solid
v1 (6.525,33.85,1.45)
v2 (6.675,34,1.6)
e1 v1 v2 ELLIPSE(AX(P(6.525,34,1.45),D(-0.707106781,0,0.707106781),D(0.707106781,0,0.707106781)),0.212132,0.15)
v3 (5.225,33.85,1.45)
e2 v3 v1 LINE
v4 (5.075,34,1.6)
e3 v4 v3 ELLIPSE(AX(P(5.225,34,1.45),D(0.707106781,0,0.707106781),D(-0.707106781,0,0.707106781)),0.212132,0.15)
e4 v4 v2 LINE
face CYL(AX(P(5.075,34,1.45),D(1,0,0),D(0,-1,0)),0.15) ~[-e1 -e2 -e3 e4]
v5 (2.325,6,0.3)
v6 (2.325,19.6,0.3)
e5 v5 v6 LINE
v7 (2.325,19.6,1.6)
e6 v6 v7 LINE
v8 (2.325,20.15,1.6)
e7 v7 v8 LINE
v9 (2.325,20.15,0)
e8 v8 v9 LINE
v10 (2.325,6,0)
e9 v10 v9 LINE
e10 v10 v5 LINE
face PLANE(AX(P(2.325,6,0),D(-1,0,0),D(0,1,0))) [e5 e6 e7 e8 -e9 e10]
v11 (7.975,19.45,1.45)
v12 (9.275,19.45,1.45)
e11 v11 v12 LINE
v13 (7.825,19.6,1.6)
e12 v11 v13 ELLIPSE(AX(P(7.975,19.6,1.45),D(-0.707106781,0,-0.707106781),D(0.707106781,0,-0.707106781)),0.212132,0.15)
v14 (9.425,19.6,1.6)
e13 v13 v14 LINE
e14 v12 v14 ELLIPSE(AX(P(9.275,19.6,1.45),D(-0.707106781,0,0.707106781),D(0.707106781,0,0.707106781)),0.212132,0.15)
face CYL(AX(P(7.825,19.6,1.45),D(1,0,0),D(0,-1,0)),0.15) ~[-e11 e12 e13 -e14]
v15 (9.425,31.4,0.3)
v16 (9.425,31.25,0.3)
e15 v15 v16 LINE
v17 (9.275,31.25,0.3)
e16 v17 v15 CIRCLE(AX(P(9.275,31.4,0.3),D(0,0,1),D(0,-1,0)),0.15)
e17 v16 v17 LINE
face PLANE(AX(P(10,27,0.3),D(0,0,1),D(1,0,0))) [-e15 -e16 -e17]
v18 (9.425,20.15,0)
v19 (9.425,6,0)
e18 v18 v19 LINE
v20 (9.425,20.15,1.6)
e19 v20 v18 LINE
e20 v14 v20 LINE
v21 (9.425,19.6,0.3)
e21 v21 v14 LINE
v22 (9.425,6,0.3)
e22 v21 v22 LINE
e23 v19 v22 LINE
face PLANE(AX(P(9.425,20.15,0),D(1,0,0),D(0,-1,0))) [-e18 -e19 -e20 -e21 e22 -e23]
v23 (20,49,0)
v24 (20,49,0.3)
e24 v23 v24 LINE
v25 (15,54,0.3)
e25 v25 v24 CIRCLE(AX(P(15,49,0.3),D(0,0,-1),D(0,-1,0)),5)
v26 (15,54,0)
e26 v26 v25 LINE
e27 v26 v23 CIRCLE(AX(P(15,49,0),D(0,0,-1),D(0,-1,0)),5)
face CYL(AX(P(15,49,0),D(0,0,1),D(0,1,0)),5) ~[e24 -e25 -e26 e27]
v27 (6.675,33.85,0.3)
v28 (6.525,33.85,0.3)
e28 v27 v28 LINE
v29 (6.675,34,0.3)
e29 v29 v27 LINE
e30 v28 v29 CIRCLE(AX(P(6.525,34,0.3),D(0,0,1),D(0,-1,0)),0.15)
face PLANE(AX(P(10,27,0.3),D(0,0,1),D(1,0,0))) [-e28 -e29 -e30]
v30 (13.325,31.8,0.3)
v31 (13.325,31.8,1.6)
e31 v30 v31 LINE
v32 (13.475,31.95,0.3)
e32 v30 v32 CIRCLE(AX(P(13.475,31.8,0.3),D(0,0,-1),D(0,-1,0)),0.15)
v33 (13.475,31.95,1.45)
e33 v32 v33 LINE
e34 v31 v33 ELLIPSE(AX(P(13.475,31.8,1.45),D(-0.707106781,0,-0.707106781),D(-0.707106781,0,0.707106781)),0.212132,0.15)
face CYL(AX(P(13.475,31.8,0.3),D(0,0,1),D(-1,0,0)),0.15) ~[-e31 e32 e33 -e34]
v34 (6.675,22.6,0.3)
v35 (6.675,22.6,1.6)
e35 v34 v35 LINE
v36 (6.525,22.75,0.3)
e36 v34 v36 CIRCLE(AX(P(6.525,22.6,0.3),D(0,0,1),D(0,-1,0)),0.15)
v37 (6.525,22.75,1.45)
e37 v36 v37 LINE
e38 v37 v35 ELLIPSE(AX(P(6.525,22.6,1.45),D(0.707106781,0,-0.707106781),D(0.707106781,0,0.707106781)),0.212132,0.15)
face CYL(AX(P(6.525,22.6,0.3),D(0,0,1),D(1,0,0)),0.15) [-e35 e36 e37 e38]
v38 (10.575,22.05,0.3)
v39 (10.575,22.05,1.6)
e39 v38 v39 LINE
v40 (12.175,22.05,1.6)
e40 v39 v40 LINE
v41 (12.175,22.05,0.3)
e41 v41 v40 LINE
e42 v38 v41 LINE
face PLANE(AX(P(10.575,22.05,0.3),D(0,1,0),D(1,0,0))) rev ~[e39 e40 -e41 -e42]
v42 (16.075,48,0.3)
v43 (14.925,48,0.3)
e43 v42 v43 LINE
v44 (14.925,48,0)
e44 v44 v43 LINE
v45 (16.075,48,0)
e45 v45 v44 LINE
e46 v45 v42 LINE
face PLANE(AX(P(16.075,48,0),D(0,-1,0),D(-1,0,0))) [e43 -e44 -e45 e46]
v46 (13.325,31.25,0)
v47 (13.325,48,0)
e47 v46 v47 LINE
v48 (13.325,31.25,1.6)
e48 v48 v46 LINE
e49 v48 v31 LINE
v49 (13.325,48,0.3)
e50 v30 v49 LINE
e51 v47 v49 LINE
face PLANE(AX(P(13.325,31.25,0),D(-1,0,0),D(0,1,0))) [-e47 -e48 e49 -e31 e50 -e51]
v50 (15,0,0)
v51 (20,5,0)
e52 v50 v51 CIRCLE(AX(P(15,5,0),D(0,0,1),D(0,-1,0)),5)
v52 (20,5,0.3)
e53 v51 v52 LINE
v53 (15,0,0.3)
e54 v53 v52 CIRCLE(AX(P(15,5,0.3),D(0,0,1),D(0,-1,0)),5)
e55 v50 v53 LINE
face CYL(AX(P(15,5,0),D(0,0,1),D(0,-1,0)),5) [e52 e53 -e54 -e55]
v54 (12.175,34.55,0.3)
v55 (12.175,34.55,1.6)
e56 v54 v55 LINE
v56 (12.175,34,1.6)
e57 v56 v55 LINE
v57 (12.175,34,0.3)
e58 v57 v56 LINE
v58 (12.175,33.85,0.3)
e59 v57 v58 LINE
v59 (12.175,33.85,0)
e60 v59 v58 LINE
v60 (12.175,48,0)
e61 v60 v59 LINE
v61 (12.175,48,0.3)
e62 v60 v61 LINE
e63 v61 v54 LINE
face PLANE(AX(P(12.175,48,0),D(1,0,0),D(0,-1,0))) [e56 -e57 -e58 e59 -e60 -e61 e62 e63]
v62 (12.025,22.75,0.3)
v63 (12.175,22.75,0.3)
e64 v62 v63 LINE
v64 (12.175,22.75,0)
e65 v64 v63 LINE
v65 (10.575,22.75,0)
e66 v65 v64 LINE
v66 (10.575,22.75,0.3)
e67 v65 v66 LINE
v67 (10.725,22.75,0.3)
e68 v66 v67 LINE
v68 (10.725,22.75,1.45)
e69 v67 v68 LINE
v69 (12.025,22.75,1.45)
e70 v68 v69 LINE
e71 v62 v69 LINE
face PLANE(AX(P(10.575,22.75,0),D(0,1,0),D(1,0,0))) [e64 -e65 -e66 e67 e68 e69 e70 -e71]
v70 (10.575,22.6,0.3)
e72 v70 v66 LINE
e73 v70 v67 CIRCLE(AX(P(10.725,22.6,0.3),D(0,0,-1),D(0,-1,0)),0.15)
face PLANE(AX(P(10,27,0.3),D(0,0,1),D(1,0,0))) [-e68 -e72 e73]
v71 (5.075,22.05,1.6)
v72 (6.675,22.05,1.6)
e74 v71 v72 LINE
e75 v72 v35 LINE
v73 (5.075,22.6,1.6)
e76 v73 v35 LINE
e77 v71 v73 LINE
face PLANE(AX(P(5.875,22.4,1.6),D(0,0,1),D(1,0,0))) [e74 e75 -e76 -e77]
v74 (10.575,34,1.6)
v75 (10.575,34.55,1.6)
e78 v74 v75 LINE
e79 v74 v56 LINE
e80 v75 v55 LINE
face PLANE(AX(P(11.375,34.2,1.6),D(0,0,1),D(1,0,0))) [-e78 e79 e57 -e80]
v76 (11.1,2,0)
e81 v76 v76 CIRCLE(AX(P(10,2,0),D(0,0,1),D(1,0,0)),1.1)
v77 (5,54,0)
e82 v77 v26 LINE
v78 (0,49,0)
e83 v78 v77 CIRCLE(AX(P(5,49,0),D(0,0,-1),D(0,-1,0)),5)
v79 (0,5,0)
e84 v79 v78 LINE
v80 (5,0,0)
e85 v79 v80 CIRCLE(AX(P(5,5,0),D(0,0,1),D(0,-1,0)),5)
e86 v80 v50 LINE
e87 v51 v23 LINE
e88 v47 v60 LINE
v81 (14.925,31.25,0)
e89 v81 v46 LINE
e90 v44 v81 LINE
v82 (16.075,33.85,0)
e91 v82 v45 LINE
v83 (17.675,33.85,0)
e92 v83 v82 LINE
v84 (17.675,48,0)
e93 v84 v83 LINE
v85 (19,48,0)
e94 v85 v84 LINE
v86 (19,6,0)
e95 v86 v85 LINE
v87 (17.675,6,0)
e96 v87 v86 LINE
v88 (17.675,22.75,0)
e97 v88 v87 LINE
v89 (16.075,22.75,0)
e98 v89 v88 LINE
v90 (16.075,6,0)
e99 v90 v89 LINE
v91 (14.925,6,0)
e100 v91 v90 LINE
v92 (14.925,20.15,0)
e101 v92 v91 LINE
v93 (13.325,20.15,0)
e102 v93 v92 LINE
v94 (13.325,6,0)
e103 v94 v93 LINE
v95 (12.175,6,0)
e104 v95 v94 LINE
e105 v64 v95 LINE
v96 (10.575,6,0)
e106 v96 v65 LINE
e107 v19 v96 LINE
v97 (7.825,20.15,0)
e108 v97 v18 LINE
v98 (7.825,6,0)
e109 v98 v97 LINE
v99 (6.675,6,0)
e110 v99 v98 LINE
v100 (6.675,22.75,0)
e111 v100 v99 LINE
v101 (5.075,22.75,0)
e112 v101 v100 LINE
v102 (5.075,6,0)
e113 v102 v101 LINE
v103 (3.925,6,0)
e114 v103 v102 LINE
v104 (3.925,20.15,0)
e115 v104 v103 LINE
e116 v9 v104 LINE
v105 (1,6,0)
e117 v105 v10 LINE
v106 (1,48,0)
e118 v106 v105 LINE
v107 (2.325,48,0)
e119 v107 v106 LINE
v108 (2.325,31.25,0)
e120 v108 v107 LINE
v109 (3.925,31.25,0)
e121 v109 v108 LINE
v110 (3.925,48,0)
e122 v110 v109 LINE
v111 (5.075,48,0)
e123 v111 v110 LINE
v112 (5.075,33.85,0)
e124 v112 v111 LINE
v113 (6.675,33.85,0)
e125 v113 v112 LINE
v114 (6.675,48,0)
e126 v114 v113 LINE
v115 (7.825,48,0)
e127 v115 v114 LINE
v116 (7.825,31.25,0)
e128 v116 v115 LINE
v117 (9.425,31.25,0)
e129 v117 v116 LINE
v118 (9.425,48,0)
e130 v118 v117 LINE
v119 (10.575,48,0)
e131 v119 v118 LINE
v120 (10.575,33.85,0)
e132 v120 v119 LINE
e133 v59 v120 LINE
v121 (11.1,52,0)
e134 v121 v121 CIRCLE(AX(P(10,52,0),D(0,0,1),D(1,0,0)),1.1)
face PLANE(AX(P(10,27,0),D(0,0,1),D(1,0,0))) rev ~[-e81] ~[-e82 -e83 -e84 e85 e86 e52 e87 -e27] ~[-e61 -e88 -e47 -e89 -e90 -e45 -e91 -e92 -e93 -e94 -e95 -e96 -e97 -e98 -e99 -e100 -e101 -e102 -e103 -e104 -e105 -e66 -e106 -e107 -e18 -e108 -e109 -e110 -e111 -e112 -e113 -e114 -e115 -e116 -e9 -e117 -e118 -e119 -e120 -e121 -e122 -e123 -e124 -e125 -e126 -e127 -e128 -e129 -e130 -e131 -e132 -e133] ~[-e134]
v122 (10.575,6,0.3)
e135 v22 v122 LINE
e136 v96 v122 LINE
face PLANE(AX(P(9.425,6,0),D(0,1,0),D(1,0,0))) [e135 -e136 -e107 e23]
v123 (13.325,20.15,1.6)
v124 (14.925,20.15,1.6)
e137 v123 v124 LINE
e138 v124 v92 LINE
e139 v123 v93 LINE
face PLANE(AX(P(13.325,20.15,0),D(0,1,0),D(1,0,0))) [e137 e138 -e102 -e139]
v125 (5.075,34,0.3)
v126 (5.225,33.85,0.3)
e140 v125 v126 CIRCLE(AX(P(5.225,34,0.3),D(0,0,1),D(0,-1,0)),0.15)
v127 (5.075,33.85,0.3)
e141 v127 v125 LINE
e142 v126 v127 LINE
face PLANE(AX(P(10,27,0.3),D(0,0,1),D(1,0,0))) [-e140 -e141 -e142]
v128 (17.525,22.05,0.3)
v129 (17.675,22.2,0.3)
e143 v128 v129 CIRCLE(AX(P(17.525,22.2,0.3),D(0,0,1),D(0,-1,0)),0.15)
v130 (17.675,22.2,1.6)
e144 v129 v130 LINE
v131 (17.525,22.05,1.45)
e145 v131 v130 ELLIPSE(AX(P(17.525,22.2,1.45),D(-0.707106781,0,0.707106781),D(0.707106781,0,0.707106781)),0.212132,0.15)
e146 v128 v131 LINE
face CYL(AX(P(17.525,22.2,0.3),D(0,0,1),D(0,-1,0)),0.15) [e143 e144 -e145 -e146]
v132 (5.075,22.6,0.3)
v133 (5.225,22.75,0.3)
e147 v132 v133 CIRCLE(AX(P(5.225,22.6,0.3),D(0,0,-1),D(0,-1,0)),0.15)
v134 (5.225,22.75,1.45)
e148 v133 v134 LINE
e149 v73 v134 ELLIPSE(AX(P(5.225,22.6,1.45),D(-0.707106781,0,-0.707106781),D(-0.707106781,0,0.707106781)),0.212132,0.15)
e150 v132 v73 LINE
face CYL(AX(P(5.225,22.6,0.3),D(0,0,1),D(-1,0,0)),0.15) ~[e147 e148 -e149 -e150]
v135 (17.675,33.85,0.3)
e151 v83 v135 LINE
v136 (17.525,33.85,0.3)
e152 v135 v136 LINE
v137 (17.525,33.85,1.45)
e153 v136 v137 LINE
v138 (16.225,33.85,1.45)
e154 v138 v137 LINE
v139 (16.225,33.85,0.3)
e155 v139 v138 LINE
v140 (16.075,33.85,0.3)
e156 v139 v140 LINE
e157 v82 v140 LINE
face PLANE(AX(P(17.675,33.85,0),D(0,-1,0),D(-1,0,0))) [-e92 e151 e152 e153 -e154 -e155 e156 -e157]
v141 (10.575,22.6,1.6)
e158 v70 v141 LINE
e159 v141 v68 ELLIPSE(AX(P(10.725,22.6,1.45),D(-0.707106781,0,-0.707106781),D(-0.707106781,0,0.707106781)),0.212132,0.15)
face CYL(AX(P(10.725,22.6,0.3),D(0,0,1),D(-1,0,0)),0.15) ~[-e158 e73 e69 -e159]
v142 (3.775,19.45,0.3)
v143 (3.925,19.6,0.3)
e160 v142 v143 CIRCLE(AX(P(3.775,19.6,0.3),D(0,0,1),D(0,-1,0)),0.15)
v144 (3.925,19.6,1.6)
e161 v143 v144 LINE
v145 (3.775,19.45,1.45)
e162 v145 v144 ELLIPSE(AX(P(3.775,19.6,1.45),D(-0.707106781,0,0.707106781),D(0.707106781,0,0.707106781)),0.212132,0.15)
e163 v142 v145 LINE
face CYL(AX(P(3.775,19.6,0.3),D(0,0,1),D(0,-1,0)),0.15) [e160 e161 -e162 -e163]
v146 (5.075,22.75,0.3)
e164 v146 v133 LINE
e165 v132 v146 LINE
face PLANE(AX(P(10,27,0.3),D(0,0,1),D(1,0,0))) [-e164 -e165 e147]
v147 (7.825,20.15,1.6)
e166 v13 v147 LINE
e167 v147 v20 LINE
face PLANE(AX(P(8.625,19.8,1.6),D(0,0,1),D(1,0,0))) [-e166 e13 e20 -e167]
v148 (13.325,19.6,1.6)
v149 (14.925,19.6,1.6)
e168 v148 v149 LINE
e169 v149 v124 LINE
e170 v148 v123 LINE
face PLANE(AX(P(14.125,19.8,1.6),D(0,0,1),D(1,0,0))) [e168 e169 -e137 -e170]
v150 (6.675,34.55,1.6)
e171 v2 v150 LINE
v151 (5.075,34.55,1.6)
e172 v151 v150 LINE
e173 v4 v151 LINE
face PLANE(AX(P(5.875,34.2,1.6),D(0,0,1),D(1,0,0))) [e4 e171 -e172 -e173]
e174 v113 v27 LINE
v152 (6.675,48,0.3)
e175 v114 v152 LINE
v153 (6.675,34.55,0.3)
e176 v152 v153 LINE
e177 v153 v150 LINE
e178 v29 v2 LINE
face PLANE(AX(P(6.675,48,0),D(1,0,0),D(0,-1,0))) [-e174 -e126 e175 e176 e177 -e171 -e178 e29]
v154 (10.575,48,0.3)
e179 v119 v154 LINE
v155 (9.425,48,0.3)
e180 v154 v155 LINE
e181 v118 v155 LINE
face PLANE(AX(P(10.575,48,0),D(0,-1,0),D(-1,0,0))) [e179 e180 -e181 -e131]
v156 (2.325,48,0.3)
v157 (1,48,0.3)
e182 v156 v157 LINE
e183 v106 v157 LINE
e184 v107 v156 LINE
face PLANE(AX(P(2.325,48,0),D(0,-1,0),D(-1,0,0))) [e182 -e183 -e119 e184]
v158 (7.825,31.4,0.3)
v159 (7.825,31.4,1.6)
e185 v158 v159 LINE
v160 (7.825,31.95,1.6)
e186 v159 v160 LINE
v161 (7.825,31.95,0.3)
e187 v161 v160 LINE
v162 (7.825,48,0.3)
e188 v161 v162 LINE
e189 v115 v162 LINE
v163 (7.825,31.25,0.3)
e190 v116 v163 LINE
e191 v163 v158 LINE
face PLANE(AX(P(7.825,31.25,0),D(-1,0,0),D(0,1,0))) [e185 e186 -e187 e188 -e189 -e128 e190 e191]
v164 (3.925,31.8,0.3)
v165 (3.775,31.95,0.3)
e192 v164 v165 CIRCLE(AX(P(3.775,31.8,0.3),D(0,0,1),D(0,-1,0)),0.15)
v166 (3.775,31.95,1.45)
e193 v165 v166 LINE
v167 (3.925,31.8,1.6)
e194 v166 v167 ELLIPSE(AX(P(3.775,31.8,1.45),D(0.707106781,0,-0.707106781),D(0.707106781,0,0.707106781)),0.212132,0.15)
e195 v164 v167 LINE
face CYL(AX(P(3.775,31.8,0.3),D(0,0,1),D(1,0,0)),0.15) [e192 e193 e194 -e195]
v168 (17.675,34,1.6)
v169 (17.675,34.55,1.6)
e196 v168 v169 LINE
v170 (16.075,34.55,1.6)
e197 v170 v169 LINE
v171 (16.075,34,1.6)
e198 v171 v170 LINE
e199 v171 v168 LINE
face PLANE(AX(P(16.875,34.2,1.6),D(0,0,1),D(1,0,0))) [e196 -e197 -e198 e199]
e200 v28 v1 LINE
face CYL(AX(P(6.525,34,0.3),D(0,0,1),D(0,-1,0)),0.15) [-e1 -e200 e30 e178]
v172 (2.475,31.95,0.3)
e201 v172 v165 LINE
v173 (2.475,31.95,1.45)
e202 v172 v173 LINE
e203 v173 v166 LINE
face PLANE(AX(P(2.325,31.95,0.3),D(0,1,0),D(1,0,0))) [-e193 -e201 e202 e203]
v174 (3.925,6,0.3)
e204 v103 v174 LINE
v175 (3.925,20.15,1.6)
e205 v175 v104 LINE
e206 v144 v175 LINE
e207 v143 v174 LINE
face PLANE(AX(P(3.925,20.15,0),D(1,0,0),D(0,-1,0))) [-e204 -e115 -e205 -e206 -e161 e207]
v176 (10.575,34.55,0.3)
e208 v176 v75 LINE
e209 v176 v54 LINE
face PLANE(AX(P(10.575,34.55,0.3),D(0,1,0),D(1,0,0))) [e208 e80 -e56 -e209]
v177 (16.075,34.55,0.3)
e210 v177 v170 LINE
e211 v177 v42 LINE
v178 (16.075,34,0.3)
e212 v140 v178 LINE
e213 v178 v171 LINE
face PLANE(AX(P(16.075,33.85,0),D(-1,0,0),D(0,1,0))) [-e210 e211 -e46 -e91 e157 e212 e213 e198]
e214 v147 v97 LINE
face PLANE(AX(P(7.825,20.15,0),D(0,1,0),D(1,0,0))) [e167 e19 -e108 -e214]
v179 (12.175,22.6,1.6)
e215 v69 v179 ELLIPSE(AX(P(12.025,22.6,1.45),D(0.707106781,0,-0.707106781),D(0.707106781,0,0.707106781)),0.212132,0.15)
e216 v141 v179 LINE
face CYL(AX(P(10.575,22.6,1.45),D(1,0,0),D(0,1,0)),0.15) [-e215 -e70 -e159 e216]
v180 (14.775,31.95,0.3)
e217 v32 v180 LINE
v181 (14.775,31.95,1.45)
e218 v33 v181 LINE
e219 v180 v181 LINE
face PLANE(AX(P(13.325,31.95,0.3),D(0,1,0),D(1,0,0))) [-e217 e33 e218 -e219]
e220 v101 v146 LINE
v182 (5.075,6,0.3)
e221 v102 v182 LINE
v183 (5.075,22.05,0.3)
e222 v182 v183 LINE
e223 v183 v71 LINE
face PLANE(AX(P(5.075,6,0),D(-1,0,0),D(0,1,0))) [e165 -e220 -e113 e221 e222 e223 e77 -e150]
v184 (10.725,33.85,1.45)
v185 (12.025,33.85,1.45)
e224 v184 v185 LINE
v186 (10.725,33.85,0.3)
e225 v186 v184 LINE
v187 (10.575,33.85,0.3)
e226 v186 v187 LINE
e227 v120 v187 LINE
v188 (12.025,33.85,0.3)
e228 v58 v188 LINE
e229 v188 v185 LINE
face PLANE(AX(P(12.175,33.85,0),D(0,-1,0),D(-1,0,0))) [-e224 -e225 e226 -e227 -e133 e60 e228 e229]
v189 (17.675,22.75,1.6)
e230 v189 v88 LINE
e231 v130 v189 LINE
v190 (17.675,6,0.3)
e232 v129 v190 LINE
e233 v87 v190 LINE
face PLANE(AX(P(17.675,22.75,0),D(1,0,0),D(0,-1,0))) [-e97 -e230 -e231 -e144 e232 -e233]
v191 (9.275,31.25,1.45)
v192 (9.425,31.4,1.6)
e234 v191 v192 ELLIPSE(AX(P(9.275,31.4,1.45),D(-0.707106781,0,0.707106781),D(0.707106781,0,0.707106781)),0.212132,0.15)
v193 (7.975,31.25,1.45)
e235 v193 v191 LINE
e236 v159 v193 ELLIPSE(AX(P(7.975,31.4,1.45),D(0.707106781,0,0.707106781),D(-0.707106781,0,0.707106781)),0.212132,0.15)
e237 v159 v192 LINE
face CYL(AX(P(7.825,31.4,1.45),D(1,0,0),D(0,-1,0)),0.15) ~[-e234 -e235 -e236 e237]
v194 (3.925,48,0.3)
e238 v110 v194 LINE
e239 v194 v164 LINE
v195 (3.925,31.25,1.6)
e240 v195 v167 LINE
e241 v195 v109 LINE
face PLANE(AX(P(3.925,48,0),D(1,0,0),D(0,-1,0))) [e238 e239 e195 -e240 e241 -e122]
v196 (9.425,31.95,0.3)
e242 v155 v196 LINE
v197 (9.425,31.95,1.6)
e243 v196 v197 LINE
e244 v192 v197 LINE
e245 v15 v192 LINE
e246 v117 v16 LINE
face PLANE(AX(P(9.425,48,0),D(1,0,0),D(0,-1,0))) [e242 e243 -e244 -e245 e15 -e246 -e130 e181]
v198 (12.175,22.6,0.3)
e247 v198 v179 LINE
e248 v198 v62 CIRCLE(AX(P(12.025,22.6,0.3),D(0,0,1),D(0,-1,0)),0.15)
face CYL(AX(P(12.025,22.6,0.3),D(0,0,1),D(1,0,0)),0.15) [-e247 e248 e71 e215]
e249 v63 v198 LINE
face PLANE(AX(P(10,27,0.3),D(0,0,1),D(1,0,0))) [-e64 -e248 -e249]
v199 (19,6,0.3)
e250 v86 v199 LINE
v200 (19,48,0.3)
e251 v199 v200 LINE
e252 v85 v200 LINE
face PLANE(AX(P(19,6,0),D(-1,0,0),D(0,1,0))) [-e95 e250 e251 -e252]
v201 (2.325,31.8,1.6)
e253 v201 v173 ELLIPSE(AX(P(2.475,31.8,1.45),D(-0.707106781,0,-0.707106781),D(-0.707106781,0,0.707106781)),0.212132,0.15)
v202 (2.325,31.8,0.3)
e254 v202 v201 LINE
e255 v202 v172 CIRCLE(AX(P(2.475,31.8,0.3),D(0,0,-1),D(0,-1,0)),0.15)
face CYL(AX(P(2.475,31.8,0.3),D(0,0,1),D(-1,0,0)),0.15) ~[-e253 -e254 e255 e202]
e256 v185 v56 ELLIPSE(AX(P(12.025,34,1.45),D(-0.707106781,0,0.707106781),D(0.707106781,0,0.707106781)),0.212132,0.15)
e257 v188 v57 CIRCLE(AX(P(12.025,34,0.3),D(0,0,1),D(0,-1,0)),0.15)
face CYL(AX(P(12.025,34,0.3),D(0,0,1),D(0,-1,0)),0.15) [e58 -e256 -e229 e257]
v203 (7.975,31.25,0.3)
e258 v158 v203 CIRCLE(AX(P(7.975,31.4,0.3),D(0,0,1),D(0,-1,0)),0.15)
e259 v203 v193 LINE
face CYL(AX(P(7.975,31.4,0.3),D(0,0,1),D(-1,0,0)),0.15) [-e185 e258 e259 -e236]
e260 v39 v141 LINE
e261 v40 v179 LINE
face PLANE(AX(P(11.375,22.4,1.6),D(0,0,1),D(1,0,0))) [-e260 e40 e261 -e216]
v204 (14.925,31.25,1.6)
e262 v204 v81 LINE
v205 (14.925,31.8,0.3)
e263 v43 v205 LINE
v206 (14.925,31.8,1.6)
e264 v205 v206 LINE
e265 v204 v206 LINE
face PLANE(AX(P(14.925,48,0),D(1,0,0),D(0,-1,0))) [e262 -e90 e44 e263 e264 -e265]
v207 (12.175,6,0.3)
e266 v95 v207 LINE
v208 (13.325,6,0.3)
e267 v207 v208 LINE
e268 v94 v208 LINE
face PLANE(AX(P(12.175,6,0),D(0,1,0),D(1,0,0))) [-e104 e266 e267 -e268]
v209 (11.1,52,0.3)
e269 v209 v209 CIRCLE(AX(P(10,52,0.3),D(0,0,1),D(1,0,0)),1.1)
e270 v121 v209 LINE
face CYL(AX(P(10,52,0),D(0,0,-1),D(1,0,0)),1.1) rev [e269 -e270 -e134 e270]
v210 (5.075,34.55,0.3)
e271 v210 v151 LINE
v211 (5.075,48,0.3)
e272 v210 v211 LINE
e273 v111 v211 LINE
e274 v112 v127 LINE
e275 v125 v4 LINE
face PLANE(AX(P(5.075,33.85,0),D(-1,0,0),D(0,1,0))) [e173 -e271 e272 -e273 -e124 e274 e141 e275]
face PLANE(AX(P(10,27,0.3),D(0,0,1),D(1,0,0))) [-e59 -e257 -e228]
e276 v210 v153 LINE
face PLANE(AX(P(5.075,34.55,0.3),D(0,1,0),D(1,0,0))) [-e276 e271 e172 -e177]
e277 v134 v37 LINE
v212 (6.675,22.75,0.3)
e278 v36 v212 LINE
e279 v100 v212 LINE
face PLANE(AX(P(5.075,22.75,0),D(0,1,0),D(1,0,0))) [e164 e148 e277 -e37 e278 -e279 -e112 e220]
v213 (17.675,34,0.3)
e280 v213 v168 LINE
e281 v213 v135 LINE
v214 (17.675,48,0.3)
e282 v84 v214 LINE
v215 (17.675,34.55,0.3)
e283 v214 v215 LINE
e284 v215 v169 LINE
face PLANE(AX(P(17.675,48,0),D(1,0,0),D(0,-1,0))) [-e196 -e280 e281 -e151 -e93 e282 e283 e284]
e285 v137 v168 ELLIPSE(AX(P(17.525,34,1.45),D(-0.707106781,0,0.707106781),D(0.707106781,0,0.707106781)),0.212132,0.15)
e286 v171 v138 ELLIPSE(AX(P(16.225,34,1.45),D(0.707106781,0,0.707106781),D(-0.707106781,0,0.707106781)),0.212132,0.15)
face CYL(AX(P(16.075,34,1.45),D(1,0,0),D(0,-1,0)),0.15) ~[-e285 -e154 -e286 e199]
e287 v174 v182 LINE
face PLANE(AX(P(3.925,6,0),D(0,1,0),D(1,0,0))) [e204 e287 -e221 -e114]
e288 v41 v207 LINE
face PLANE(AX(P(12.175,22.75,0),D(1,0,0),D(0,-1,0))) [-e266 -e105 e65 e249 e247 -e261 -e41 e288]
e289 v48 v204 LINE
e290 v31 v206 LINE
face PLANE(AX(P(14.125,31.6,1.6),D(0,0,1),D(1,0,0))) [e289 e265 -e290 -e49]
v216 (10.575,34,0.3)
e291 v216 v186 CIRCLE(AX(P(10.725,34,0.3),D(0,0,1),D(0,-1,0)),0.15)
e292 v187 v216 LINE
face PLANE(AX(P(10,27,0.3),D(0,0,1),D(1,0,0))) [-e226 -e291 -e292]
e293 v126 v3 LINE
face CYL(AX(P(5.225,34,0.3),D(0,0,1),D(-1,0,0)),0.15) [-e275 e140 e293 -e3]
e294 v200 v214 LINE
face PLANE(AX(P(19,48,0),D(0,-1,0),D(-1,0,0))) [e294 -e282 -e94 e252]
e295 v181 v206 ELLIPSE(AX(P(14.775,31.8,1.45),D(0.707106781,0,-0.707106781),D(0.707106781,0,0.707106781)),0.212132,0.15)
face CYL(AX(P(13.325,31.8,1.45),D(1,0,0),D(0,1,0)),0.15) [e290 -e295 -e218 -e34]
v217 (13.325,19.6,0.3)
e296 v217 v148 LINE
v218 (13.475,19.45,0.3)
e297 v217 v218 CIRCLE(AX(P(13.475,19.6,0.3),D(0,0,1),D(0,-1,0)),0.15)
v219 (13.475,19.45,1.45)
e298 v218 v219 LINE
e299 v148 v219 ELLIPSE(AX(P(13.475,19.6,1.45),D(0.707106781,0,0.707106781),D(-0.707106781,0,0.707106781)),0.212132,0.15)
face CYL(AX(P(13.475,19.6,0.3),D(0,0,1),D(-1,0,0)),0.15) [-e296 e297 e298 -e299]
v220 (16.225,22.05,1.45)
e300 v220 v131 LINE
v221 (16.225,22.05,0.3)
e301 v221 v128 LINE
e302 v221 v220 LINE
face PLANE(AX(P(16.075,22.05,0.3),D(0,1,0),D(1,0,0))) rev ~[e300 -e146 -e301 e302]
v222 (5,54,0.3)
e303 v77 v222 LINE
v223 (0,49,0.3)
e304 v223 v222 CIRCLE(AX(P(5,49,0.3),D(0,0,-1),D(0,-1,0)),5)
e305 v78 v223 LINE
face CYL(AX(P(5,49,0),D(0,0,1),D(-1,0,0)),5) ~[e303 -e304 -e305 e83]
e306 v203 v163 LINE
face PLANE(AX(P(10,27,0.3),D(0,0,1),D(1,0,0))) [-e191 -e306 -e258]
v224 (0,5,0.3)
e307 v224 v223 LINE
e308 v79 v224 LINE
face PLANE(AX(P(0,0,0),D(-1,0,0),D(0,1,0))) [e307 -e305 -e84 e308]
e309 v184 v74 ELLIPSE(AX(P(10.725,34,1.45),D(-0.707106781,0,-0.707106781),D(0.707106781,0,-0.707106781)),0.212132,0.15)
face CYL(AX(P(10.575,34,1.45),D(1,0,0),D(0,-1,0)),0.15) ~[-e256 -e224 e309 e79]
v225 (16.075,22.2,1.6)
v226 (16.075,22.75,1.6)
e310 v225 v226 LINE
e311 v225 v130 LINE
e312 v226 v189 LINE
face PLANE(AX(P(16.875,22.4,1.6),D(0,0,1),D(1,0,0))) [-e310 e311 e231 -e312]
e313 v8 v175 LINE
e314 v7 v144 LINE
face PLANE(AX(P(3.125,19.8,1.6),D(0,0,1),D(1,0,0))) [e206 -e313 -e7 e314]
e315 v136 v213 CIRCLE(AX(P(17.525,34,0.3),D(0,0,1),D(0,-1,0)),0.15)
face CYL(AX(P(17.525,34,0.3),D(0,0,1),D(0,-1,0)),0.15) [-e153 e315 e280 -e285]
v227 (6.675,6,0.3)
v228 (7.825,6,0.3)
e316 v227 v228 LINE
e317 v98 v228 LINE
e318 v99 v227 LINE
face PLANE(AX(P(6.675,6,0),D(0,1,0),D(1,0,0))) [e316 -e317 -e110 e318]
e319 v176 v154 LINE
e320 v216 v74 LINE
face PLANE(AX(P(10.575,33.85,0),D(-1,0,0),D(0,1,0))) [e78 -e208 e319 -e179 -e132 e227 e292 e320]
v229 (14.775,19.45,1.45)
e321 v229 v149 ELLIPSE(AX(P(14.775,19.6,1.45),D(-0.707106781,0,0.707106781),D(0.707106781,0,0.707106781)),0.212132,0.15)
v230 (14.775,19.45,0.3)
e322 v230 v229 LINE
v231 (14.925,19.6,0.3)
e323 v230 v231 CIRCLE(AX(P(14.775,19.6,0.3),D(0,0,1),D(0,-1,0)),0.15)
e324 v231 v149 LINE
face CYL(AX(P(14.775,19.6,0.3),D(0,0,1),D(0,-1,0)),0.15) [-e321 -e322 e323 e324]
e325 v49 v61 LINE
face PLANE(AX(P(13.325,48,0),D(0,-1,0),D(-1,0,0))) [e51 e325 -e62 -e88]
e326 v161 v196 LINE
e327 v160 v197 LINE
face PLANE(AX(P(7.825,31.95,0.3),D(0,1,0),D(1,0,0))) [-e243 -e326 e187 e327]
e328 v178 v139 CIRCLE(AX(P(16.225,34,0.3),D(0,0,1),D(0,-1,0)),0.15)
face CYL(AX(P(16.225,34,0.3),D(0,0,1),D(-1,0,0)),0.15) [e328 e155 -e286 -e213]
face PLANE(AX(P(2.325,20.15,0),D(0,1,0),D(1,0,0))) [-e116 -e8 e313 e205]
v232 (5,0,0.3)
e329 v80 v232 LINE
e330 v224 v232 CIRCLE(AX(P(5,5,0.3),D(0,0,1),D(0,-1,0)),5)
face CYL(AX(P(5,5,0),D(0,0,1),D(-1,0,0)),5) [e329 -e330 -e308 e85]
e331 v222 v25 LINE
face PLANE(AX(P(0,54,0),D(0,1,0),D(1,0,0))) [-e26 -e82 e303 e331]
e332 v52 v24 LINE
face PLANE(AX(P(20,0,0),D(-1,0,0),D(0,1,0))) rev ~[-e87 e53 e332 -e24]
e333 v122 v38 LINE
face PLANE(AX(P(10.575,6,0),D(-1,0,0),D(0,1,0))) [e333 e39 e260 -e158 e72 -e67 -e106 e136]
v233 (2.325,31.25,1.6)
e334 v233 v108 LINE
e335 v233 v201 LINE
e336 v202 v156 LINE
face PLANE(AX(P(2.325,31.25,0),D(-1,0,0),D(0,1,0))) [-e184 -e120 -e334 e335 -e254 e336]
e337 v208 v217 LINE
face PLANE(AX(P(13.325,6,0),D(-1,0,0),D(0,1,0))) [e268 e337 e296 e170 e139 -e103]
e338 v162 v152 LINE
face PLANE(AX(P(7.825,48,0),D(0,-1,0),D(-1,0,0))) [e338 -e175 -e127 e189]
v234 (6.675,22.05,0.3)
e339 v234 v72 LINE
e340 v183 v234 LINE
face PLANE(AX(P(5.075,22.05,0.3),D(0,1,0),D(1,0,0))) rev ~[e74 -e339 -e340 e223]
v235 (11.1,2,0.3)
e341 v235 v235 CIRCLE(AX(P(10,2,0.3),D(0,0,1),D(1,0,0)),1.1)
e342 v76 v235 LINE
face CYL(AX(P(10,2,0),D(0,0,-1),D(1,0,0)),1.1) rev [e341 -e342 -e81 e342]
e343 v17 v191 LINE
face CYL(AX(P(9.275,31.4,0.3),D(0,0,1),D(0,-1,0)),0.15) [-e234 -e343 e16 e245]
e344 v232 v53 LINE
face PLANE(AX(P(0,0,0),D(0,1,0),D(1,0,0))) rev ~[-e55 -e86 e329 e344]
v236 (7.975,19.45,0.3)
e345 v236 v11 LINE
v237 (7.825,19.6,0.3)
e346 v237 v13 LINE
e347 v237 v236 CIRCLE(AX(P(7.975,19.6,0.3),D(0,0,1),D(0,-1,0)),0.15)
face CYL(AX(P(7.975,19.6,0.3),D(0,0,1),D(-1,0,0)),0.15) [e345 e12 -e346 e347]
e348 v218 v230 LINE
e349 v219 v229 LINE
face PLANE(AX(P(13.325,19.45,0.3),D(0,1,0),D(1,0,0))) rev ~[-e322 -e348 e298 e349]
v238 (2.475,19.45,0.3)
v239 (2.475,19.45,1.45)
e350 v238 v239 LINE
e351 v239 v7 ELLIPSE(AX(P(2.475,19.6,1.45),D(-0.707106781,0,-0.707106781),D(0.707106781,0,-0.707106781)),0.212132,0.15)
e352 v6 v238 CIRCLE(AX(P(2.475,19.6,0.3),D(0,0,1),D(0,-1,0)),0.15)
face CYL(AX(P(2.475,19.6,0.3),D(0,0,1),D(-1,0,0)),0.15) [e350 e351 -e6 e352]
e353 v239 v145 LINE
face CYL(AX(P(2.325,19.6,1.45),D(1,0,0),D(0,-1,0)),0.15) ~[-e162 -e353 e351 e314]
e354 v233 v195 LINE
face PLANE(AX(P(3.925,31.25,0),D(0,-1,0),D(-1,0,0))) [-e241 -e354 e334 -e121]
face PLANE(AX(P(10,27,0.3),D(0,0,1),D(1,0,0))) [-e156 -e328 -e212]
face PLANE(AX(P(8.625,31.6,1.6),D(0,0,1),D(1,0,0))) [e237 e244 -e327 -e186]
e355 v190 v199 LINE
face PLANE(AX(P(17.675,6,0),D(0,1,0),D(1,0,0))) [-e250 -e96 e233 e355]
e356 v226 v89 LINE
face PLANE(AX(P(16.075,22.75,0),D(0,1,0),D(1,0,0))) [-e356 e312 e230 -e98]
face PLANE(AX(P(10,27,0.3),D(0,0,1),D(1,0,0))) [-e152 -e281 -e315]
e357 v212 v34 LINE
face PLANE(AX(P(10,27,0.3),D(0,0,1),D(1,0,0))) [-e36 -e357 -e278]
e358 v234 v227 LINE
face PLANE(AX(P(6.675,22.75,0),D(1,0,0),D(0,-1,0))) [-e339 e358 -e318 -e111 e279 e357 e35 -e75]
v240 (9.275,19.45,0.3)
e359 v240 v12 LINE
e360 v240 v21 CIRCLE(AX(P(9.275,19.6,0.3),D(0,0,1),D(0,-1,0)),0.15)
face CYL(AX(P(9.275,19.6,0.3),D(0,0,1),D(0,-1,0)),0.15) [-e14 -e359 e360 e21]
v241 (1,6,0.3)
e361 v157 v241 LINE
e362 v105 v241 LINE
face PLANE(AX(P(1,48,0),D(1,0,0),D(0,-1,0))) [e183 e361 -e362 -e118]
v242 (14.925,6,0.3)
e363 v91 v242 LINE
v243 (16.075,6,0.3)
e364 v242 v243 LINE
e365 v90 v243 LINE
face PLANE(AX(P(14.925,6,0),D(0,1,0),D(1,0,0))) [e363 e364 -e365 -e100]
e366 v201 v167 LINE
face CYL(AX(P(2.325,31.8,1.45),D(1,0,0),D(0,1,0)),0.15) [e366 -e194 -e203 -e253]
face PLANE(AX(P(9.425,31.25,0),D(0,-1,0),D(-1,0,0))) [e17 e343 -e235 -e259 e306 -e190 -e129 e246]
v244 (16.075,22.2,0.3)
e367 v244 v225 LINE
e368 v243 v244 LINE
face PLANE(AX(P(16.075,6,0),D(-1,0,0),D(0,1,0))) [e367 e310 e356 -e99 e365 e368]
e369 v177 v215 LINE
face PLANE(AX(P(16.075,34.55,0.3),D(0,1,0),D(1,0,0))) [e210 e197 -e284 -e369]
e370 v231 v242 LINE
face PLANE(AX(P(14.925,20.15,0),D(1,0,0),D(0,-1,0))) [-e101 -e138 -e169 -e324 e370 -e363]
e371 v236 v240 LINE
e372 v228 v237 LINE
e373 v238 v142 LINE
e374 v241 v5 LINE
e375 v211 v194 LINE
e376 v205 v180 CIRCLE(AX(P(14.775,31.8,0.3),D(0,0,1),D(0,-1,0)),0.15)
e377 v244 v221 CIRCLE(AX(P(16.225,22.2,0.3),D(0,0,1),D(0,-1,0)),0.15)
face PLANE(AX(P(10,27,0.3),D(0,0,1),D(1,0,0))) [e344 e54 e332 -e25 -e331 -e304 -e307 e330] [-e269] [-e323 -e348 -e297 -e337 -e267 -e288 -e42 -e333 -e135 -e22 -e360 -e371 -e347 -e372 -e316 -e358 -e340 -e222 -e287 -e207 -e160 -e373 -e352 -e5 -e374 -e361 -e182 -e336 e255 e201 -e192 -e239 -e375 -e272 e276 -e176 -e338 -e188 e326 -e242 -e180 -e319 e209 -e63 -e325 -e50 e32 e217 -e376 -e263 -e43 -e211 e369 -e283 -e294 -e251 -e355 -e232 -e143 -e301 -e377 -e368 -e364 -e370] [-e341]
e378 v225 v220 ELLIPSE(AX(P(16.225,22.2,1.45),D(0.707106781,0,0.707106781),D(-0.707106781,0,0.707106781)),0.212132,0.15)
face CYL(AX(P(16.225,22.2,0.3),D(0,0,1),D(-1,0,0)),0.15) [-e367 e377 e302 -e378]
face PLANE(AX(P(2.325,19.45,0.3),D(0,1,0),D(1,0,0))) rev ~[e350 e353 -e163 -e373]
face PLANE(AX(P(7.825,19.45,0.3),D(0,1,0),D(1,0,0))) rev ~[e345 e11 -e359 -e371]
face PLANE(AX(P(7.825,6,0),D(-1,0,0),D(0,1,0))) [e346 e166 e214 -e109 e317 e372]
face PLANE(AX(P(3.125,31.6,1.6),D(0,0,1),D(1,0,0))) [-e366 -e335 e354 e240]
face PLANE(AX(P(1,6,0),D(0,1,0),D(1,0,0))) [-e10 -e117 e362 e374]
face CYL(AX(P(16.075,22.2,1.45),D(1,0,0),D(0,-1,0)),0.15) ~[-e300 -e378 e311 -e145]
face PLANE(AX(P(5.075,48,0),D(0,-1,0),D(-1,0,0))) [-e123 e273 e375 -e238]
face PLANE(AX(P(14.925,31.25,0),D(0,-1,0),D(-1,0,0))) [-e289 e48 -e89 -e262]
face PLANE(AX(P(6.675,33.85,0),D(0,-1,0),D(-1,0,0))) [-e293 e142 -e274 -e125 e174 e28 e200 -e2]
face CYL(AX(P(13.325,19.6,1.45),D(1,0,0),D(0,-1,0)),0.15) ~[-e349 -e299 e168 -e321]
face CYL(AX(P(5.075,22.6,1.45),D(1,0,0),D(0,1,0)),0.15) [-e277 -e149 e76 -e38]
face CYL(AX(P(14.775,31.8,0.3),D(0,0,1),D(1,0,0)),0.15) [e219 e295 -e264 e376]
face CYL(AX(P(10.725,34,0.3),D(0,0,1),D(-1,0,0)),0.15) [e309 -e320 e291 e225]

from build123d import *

# Parameters (mm, degrees)
SKETCH009_W  = 20
SKETCH009_H  = 54
SKETCH009_R  = 1.1
PAD009_DEPTH = 0.3
FILLET_R     = 5
SKETCH001_W  = 1.6
SKETCH001_H  = 0.7
PAD001_DEPTH = 1.3
FILLET001_R  = 0.15
FILLET002_R  = 0.15


with BuildPart() as fillet_body:
    # Sketch009 → Pad009 (new body)
    with BuildSketch(Plane.XY):
        with Locations((10, 27)):
            Rectangle(SKETCH009_W, SKETCH009_H)
        with Locations((10, 52)):
            Circle(SKETCH009_R, mode=Mode.SUBTRACT)
        with Locations((10, 2)):
            Circle(SKETCH009_R, mode=Mode.SUBTRACT)
        Polygon((1, 48), (1, 6), (2.325, 6), (2.325, 20.15), (3.925, 20.15), (3.925, 6), (5.075, 6), (5.075, 22.75), (6.675, 22.75), (6.675, 6), (7.825, 6), (7.825, 20.15), (9.425, 20.15), (9.425, 6), (10.575, 6), (10.575, 22.75), (12.175, 22.75), (12.175, 6), (13.325, 6), (13.325, 20.15), (14.925, 20.15), (14.925, 6), (16.075, 6), (16.075, 22.75), (17.675, 22.75), (17.675, 6), (19, 6), (19, 48), (17.675, 48), (17.675, 33.85), (16.075, 33.85), (16.075, 48), (14.925, 48), (14.925, 31.25), (13.325, 31.25), (13.325, 48), (12.175, 48), (12.175, 33.85), (10.575, 33.85), (10.575, 48), (9.425, 48), (9.425, 31.25), (7.825, 31.25), (7.825, 48), (6.675, 48), (6.675, 33.85), (5.075, 33.85), (5.075, 48), (3.925, 48), (3.925, 31.25), (2.325, 31.25), (2.325, 48), align=None, mode=Mode.SUBTRACT)
    extrude(amount=PAD009_DEPTH)

    # Fillet
    fillet_edges = [fillet_body.edges().sort_by_distance(p)[0] for p in [
        (20, 0, 0.15),
        (0, 0, 0.15),
        (20, 54, 0.15),
        (0, 54, 0.15),
    ]]
    fillet(fillet_edges, radius=FILLET_R)


with BuildPart() as fusion:
    # Sketch001 → Pad001 (new body)
    with BuildSketch(Plane.XY.offset(0.3)):
        with Locations((3.125, 19.8)):
            Rectangle(SKETCH001_W, SKETCH001_H)
        with Locations((5.875, 22.4)):
            Rectangle(SKETCH001_W, SKETCH001_H)
        with Locations((8.625, 19.8)):
            Rectangle(SKETCH001_W, SKETCH001_H)
        with Locations((11.375, 22.4)):
            Rectangle(SKETCH001_W, SKETCH001_H)
        with Locations((14.125, 19.8)):
            Rectangle(SKETCH001_W, SKETCH001_H)
        with Locations((16.875, 22.4)):
            Rectangle(SKETCH001_W, SKETCH001_H)
        with Locations((3.125, 31.6)):
            Rectangle(SKETCH001_W, SKETCH001_H)
        with Locations((5.875, 34.2)):
            Rectangle(SKETCH001_W, SKETCH001_H)
        with Locations((8.625, 31.6)):
            Rectangle(SKETCH001_W, SKETCH001_H)
        with Locations((11.375, 34.2)):
            Rectangle(SKETCH001_W, SKETCH001_H)
        with Locations((14.125, 31.6)):
            Rectangle(SKETCH001_W, SKETCH001_H)
        with Locations((16.875, 34.2)):
            Rectangle(SKETCH001_W, SKETCH001_H)
    extrude(amount=PAD001_DEPTH)

    # Fillet001
    fillet001_edges = [fusion.edges().sort_by_distance(p)[0] for p in [
        (9.425, 19.45, 0.95),
        (8.625, 19.45, 1.6),
        (7.825, 19.45, 0.95),
        (7.825, 31.25, 0.95),
        (8.625, 31.25, 1.6),
        (9.425, 31.25, 0.95),
        (10.575, 22.75, 0.95),
        (11.375, 22.75, 1.6),
        (12.175, 22.75, 0.95),
        (16.075, 22.05, 0.95),
        (16.875, 22.05, 1.6),
        (17.675, 22.05, 0.95),
        (13.325, 31.95, 0.95),
        (14.125, 31.95, 1.6),
        (14.925, 31.95, 0.95),
        (5.075, 33.85, 0.95),
        (5.875, 33.85, 1.6),
        (6.675, 33.85, 0.95),
    ]]
    fillet(fillet001_edges, radius=FILLET001_R)

    # Fillet002
    fillet002_edges = [fusion.edges().sort_by_distance(p)[0] for p in [
        (3.925, 19.45, 0.95),
        (3.125, 19.45, 1.6),
        (2.325, 19.45, 0.95),
        (13.325, 19.45, 0.95),
        (14.125, 19.45, 1.6),
        (14.925, 19.45, 0.95),
        (2.325, 31.95, 0.95),
        (3.125, 31.95, 1.6),
        (3.925, 31.95, 0.95),
        (5.075, 22.75, 0.95),
        (5.875, 22.75, 1.6),
        (6.675, 22.75, 0.95),
        (16.075, 33.85, 0.95),
        (16.875, 33.85, 1.6),
        (17.675, 33.85, 0.95),
        (12.175, 33.85, 0.95),
        (11.375, 33.85, 1.6),
        (10.575, 33.85, 0.95),
    ]]
    fillet(fillet002_edges, radius=FILLET002_R)

    # Fusion: union Fillet body
    add(fillet_body.part)


solid = fusion.part
